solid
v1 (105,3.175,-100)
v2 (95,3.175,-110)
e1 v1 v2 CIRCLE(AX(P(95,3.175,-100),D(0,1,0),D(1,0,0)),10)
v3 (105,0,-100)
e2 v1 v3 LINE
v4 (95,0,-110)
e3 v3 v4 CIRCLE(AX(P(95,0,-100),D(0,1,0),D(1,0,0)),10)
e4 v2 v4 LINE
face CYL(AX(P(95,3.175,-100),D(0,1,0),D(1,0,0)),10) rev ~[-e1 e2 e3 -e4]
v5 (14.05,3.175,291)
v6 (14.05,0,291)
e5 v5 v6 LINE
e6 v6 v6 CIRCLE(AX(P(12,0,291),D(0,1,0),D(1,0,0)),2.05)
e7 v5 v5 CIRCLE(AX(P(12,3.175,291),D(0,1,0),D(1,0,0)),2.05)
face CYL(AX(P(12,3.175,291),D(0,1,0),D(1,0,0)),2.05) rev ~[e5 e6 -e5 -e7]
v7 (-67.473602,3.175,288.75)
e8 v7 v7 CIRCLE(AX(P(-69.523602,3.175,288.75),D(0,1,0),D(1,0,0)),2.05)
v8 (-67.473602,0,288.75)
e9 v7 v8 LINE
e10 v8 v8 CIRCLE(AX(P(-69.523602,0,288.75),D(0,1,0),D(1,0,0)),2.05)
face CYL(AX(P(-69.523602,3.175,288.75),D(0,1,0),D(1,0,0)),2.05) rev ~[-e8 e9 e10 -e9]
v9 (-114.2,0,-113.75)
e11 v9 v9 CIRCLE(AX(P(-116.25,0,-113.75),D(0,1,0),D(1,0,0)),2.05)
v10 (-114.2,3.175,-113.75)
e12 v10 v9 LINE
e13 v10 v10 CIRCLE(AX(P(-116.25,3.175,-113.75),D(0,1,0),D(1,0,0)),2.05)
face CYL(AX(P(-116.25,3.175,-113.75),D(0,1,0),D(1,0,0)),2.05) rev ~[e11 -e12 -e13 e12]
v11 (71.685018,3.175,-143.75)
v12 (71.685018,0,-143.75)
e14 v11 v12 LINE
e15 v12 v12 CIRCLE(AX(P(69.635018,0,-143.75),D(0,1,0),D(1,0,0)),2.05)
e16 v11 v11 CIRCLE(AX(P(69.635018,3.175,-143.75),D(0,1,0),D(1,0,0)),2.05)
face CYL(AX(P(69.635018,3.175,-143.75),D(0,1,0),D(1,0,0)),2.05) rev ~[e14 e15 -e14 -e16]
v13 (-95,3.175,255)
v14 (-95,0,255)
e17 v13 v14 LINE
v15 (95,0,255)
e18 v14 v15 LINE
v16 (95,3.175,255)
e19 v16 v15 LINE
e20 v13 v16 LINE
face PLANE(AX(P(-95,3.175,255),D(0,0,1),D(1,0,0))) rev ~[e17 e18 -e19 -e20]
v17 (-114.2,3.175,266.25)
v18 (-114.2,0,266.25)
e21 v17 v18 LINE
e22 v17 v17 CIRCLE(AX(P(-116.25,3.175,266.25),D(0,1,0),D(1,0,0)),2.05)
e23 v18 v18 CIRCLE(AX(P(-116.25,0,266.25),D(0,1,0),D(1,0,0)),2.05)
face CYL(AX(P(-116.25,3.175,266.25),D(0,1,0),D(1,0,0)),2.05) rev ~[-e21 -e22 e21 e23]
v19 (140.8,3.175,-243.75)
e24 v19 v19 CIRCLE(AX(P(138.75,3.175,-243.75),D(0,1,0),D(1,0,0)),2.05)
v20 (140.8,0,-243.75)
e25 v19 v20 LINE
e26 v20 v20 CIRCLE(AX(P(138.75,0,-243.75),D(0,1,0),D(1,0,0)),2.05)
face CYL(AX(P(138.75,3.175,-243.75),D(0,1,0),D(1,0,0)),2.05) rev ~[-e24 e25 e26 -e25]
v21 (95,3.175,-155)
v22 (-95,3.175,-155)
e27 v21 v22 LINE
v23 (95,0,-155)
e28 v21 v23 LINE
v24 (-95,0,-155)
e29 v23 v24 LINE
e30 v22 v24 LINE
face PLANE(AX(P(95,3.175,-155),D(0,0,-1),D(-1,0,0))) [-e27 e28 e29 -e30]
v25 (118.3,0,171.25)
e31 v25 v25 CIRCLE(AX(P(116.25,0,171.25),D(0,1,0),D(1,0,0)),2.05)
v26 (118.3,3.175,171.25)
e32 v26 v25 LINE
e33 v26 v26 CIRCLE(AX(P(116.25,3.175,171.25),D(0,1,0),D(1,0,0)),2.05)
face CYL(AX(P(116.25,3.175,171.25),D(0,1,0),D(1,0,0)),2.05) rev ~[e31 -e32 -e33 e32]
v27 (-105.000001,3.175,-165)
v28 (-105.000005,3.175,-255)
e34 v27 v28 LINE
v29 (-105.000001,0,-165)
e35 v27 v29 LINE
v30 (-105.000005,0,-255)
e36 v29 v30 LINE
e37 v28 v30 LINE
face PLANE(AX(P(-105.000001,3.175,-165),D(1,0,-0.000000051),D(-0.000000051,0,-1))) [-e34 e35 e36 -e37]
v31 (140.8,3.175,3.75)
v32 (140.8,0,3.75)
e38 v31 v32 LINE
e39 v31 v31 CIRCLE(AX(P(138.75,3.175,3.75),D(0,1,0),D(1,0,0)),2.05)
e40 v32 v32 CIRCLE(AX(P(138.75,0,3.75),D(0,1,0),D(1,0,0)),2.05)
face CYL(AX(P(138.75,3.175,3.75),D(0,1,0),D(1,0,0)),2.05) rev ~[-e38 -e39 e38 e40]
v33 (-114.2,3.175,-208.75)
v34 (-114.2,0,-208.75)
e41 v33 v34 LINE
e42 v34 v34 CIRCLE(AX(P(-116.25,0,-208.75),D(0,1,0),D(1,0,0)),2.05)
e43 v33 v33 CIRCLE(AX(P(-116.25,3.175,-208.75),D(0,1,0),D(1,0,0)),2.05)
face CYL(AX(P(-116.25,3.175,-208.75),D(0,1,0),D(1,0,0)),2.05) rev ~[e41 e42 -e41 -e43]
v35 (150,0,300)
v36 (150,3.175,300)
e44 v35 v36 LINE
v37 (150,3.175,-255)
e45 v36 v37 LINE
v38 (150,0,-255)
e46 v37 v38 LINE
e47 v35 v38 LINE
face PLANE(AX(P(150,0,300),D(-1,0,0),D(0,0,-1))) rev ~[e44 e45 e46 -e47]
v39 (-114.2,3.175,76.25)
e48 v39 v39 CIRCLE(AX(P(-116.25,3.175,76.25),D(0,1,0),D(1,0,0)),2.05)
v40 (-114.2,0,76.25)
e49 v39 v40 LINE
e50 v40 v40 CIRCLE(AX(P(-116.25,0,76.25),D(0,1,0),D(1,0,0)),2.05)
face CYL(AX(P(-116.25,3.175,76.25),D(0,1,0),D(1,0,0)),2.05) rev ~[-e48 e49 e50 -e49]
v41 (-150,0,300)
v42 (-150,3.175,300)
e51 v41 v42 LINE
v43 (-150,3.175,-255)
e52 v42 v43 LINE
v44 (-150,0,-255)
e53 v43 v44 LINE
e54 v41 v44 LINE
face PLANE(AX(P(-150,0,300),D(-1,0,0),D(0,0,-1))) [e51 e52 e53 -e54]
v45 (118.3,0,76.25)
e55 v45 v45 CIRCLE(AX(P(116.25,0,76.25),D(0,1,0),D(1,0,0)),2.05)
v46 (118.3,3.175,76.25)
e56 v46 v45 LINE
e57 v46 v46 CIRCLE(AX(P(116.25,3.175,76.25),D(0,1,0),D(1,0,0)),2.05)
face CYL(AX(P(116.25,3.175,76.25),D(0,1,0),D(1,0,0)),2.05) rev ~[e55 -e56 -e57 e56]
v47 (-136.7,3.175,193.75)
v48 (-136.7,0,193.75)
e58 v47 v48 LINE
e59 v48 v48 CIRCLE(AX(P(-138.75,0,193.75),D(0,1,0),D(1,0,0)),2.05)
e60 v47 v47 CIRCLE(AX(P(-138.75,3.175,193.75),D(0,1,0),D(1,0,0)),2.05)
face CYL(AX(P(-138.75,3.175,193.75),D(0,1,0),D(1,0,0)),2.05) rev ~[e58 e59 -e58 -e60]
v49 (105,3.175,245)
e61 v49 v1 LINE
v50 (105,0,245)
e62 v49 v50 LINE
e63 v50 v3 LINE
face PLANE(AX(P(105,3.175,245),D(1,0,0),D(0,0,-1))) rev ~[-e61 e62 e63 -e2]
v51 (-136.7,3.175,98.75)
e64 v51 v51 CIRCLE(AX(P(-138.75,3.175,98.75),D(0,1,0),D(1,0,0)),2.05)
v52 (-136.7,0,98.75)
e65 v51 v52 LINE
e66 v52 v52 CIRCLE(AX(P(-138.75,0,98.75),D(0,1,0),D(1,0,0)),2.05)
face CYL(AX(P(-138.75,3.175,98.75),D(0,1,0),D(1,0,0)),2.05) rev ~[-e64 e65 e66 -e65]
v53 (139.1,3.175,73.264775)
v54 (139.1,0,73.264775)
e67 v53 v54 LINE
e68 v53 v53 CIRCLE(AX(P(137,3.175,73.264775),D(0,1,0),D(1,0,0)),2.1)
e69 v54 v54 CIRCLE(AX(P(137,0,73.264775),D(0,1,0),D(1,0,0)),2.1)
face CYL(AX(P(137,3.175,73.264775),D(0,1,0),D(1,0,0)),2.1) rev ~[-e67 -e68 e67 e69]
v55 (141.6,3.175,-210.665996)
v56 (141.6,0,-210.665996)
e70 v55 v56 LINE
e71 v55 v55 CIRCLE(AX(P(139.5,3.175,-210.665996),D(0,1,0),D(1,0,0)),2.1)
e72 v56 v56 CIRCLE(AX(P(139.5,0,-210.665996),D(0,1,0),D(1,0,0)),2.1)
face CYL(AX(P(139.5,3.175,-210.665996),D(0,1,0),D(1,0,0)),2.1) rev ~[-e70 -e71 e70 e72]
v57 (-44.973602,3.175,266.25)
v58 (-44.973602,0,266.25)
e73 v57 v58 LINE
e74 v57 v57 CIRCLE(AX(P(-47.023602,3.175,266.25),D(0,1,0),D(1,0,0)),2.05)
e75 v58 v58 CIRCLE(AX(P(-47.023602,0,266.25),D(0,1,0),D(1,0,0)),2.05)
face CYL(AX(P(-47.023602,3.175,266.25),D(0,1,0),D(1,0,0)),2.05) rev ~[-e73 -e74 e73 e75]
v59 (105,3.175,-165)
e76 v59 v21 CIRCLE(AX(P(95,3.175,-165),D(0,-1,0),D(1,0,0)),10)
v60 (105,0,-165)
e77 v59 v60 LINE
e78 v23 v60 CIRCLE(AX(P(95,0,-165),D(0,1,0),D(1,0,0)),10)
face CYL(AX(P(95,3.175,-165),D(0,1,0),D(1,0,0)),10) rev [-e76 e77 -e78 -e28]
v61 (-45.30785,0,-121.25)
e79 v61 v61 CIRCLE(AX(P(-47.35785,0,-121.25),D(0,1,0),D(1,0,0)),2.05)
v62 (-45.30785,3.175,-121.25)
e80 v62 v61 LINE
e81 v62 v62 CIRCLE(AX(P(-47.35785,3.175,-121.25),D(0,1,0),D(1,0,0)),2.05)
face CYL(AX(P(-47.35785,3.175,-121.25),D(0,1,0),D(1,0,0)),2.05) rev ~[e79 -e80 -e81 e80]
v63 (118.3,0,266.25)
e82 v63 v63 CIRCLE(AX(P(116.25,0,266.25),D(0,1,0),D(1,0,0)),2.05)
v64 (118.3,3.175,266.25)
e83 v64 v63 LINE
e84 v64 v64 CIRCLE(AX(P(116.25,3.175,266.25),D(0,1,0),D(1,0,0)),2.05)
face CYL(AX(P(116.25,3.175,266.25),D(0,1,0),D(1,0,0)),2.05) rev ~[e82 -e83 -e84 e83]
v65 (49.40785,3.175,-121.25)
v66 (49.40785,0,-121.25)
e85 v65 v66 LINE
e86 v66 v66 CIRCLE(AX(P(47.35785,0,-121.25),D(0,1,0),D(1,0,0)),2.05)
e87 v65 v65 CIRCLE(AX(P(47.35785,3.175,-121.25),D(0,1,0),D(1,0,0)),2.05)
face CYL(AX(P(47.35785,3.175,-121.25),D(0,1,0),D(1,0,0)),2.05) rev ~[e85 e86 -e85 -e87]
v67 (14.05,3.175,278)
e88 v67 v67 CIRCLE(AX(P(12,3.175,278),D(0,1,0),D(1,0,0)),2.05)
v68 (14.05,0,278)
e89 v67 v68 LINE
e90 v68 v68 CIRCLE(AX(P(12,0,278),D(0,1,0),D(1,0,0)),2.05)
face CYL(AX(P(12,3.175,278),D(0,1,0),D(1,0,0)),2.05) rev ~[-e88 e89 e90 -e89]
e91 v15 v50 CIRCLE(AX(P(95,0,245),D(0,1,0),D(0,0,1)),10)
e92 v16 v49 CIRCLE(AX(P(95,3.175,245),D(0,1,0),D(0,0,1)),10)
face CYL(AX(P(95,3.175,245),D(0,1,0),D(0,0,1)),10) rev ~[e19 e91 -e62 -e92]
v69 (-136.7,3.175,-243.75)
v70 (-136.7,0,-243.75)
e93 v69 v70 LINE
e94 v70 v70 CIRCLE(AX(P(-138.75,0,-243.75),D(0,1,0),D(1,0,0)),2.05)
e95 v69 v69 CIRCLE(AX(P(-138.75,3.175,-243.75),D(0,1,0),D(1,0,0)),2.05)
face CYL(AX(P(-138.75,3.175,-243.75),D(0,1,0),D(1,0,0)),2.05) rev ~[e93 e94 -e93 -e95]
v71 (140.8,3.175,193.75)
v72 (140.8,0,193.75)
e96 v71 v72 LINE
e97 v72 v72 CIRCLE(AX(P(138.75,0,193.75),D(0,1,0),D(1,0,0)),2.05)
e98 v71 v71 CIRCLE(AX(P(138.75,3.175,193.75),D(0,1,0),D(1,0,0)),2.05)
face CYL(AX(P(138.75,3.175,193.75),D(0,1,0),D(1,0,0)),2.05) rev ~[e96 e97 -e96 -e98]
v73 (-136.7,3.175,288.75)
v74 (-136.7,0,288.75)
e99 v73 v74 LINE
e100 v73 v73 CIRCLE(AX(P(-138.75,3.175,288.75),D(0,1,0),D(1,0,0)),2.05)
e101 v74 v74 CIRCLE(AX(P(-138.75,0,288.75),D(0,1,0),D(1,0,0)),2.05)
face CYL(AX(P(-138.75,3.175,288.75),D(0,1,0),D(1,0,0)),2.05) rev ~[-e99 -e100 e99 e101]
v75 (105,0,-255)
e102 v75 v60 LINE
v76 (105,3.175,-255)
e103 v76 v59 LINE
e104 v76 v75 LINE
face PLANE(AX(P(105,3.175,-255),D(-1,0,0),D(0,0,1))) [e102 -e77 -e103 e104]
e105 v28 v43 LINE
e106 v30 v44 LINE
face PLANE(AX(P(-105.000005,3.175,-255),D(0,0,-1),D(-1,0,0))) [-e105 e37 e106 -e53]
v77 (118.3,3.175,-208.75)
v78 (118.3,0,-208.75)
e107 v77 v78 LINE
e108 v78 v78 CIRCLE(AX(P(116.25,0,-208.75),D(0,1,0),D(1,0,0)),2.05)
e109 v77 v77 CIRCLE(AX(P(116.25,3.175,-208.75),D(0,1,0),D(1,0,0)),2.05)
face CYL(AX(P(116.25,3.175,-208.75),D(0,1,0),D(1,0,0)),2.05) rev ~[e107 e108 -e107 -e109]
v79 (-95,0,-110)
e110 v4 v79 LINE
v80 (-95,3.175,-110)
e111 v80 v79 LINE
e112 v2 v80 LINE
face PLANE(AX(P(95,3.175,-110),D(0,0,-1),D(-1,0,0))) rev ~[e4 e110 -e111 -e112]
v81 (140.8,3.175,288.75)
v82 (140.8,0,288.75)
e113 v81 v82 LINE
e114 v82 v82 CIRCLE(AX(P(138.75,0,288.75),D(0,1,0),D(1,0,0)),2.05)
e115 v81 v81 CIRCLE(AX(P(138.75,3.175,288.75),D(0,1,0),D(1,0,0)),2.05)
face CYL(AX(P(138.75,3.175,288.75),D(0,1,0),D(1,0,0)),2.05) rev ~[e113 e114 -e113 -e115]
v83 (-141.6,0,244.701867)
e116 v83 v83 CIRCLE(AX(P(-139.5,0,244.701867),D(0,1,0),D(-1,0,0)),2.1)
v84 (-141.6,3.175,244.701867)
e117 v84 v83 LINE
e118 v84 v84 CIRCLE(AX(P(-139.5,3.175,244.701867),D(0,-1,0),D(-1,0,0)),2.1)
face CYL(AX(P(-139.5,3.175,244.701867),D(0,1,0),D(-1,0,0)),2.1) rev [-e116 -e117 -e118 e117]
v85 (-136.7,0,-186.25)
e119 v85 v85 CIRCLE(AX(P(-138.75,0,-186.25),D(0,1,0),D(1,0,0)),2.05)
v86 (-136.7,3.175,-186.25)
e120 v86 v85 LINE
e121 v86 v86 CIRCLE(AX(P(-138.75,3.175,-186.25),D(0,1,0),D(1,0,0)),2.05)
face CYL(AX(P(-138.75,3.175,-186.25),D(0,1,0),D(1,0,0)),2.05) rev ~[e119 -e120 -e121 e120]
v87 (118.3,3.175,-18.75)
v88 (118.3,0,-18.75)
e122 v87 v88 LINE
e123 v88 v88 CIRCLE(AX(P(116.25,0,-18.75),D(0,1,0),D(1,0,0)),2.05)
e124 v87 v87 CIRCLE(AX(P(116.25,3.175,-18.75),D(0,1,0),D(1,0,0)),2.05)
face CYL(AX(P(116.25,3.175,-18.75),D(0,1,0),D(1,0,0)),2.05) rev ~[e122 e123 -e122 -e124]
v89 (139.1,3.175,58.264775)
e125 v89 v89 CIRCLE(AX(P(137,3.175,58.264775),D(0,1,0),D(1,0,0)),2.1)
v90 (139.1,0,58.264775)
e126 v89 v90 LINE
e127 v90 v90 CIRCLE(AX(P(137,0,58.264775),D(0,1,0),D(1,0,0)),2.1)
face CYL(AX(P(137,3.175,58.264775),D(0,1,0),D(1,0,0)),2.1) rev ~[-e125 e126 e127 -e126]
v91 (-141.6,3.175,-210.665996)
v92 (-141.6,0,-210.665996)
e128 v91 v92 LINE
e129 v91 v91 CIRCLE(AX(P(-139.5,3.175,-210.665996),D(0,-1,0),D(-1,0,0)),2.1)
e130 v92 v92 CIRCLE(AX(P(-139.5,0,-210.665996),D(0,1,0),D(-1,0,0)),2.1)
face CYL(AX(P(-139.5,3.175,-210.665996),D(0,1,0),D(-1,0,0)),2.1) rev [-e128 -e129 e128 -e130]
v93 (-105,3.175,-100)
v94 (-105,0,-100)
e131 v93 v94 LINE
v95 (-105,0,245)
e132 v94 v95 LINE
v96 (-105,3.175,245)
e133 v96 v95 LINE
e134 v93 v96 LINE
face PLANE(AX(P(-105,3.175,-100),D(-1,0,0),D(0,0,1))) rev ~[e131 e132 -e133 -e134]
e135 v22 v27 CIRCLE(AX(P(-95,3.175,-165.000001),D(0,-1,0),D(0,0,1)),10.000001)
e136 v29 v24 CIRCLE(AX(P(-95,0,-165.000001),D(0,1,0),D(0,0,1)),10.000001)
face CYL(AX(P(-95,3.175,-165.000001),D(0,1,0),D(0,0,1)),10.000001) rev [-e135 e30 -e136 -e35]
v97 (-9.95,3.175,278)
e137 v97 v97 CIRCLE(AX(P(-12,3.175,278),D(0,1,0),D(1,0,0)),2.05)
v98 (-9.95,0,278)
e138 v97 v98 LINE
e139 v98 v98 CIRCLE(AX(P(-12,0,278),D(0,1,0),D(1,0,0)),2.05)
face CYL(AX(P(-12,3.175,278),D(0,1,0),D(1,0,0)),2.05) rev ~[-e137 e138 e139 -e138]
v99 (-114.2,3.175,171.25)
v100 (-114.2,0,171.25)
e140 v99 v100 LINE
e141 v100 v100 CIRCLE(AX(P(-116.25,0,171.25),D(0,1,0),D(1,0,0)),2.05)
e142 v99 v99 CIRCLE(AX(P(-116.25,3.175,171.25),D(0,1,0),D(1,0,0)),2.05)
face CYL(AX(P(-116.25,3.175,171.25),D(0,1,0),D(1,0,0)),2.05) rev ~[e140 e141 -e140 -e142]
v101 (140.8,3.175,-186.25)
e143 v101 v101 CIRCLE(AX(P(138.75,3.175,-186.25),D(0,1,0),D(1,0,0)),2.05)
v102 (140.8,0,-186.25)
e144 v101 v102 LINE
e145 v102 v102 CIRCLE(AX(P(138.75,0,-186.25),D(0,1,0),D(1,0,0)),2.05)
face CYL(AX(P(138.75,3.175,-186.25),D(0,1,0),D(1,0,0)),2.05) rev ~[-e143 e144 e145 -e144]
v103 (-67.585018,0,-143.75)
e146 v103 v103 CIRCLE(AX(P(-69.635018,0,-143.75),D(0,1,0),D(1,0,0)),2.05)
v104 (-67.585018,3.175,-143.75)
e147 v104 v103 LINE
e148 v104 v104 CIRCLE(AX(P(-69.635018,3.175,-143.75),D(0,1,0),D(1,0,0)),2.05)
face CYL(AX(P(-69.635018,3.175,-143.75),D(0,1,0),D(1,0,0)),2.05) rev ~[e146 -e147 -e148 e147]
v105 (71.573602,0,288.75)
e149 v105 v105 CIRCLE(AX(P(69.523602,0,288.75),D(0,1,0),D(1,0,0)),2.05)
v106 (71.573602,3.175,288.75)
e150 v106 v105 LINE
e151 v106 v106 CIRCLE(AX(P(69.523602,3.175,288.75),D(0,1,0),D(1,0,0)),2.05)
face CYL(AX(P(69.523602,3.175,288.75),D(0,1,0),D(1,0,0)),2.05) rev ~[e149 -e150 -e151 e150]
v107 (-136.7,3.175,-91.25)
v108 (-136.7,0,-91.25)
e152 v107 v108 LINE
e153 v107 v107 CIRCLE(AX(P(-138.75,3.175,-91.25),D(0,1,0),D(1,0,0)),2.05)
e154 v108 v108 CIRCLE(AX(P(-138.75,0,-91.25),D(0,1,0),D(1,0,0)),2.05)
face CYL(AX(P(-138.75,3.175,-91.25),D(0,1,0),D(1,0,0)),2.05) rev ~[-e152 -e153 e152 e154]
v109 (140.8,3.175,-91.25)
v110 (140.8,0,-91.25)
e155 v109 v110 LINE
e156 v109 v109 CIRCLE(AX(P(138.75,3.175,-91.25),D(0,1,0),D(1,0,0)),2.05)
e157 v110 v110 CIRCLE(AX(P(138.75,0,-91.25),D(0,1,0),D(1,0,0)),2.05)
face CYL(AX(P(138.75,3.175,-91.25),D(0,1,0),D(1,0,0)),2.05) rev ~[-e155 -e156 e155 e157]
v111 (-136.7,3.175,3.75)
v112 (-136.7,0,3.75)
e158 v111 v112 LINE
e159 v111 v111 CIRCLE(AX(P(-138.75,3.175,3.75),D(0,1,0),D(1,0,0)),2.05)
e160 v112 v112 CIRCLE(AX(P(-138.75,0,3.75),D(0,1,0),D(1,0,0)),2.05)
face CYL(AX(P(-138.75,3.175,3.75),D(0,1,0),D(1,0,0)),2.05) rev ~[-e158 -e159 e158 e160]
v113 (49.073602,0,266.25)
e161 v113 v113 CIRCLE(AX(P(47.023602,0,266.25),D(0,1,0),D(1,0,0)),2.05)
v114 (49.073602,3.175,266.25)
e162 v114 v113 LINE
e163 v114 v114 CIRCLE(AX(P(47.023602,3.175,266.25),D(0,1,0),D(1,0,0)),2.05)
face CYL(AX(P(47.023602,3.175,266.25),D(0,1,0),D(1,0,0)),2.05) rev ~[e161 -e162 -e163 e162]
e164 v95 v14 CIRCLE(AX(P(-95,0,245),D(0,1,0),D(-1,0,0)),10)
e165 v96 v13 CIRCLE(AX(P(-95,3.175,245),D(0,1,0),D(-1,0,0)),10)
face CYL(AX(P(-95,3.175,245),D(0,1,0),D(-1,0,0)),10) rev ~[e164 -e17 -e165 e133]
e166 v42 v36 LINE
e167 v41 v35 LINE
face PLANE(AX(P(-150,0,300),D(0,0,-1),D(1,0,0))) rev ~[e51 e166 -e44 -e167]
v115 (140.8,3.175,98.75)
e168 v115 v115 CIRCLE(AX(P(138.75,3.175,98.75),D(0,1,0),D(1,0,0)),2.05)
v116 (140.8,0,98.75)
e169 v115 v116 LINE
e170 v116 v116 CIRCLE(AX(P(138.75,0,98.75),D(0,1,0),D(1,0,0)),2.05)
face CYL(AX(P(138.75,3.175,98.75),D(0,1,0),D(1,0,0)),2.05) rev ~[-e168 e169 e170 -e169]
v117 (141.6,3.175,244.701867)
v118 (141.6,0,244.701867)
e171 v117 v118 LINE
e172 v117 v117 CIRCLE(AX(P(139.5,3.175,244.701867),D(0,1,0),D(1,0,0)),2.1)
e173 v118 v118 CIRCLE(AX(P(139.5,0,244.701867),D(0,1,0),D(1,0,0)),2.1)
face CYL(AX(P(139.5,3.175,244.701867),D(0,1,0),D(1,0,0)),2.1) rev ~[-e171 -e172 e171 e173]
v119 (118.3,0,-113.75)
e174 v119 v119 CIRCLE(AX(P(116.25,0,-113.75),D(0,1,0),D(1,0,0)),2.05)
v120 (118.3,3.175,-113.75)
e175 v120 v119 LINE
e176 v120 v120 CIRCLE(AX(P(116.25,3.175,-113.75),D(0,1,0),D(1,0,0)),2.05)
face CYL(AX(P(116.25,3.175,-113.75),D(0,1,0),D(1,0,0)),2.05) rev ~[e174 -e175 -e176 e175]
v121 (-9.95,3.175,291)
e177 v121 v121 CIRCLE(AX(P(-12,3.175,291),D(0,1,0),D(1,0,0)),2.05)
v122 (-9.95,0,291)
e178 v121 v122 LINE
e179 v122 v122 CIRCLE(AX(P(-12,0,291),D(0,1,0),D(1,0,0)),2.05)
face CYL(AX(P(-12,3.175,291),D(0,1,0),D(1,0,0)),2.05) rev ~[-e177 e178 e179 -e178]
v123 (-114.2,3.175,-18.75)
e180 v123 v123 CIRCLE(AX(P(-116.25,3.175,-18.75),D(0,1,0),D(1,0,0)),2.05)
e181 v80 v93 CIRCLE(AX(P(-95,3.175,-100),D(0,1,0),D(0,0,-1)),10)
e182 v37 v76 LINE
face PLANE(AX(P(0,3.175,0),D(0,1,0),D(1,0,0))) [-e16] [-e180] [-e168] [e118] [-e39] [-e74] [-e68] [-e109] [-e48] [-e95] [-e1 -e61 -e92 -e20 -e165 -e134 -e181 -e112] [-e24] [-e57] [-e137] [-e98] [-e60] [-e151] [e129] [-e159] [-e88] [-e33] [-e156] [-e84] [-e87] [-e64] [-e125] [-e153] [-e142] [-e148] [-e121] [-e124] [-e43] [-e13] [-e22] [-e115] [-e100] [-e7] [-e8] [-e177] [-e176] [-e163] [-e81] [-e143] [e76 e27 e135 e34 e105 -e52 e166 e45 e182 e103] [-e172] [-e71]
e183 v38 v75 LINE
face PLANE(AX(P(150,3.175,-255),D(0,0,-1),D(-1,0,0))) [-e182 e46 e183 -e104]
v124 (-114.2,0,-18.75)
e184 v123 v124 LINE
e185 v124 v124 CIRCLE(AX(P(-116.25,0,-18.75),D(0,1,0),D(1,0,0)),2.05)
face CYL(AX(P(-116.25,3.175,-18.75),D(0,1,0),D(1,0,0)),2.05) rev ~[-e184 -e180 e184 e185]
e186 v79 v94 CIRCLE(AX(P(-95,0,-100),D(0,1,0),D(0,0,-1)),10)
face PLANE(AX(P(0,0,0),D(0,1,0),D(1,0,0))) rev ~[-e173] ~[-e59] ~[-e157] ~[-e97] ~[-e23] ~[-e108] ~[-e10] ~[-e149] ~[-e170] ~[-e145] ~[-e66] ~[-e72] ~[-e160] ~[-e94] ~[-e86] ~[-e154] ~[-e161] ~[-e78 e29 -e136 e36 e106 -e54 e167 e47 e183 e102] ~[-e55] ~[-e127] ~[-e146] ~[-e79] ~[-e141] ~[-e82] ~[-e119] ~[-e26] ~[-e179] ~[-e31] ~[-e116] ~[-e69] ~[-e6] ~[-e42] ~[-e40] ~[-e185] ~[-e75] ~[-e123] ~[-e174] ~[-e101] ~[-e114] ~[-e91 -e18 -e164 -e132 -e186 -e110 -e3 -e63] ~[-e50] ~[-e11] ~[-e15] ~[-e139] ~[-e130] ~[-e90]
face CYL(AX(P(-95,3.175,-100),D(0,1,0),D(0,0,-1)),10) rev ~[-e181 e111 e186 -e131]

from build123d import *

# Parameters (mm, degrees)
SKETCH1_W           = 300
SKETCH1_H           = 600
BOSS_EXTRUDE1_DEPTH = 3.175
CUT_EXTRUDE1_DEPTH  = 10
SKETCH4_R           = 2.05
CUT_EXTRUDE2_DEPTH  = 51
SKETCH5_R           = 2.1
CUT_EXTRUDE3_DEPTH  = 67
SKETCH7_R           = 2.05
CUT_EXTRUDE4_DEPTH  = 10
SKETCH8_R           = 2.1
CUT_EXTRUDE5_DEPTH  = 10


with BuildPart() as part:
    # Sketch1 → Boss-Extrude1 (new body)
    with BuildSketch(Plane(origin=(0, 0, 0), x_dir=(1, 0, 0), z_dir=(0, 1, 0))):
        Rectangle(SKETCH1_W, SKETCH1_H)
    extrude(amount=BOSS_EXTRUDE1_DEPTH)

    # Sketch3 → Cut-Extrude1 (cut)
    with BuildSketch(Plane(origin=(0, 3.175, 0), x_dir=(1, 0, 0), z_dir=(0, 1, 0))):
        with BuildLine():
            Line((-95, -255), (95, -255))
            ThreePointArc((95, -255), (102.071067812, -252.071067812), (105, -245))
            Line((105, -245), (105, 100))
            ThreePointArc((105, 100), (102.071067812, 107.071067812), (95, 110))
            Line((95, 110), (-95, 110))
            ThreePointArc((-95, 110), (-102.071067812, 107.071067812), (-105, 100))
            Line((-105, 100), (-105, -245))
            ThreePointArc((-105, -245), (-102.071067812, -252.071067812), (-95, -255))
        make_face()
        with BuildLine():
            Line((105, 255), (105, 165))
            ThreePointArc((105, 165), (102.071067812, 157.928932188), (95, 155))
            Line((95, 155), (-95, 155))
            ThreePointArc((-95, 155), (-102.071067992, 157.928932157), (-105.000000511, 165))
            Line((-105.000000511, 165), (-105.000005107, 255))
            Line((-105.000005107, 255), (-150, 255))
            Line((-150, 255), (-150, 300))
            Line((-150, 300), (150, 300))
            Line((150, 300), (150, 255))
            Line((150, 255), (105, 255))
        make_face()
    extrude(amount=-CUT_EXTRUDE1_DEPTH, mode=Mode.SUBTRACT)

    # Sketch4 → Cut-Extrude2 (cut)
    with BuildSketch(Plane(origin=(0, 3.175, 0), x_dir=(1, 0, 0), z_dir=(0, 1, 0))):
        with Locations((12, -291)):
            Circle(SKETCH4_R)
        with Locations((-12, -291)):
            Circle(SKETCH4_R)
        with Locations((-12, -278)):
            Circle(SKETCH4_R)
        with Locations((12, -278)):
            Circle(SKETCH4_R)
    extrude(amount=-CUT_EXTRUDE2_DEPTH, mode=Mode.SUBTRACT)

    # Sketch5 → Cut-Extrude3 (cut)
    with BuildSketch(Plane(origin=(0, 3.175, 0), x_dir=(1, 0, 0), z_dir=(0, 1, 0))):
        with Locations((137, -73.264775169)):
            Circle(SKETCH5_R)
        with Locations((137, -58.264775169)):
            Circle(SKETCH5_R)
    extrude(amount=-CUT_EXTRUDE3_DEPTH, mode=Mode.SUBTRACT)

    # Sketch7 → Cut-Extrude4 (cut)
    with BuildSketch(Plane(origin=(0, 3.175, 0), x_dir=(1, 0, 0), z_dir=(0, 1, 0))):
        with Locations((138.75, -288.75)):
            Circle(SKETCH7_R)
        with Locations((116.25, -266.25)):
            Circle(SKETCH7_R)
        with Locations((47.023601507, -266.25)):
            Circle(SKETCH7_R)
        with Locations((69.523601507, -288.75)):
            Circle(SKETCH7_R)
        with Locations((116.25, -171.25)):
            Circle(SKETCH7_R)
        with Locations((138.75, -193.75)):
            Circle(SKETCH7_R)
        with Locations((116.25, -76.25)):
            Circle(SKETCH7_R)
        with Locations((138.75, -98.75)):
            Circle(SKETCH7_R)
        with Locations((116.25, 18.75)):
            Circle(SKETCH7_R)
        with Locations((138.75, -3.75)):
            Circle(SKETCH7_R)
        with Locations((116.25, 113.75)):
            Circle(SKETCH7_R)
        with Locations((138.75, 91.25)):
            Circle(SKETCH7_R)
        with Locations((116.25, 208.75)):
            Circle(SKETCH7_R)
        with Locations((138.75, 186.25)):
            Circle(SKETCH7_R)
        with Locations((47.357849803, 121.25)):
            Circle(SKETCH7_R)
        with Locations((69.635017605, 143.75)):
            Circle(SKETCH7_R)
        with Locations((-47.357849803, 121.25)):
            Circle(SKETCH7_R)
        with Locations((-69.635017605, 143.75)):
            Circle(SKETCH7_R)
        with Locations((-116.25, 208.75)):
            Circle(SKETCH7_R)
        with Locations((-138.75, 186.25)):
            Circle(SKETCH7_R)
        with Locations((-138.75, 91.25)):
            Circle(SKETCH7_R)
        with Locations((-116.25, 18.75)):
            Circle(SKETCH7_R)
        with Locations((-116.25, 113.75)):
            Circle(SKETCH7_R)
        with Locations((-116.25, -76.25)):
            Circle(SKETCH7_R)
        with Locations((-138.75, -3.75)):
            Circle(SKETCH7_R)
        with Locations((-138.75, -98.75)):
            Circle(SKETCH7_R)
        with Locations((-116.25, -171.25)):
            Circle(SKETCH7_R)
        with Locations((-138.75, -193.75)):
            Circle(SKETCH7_R)
        with Locations((-116.25, -266.25)):
            Circle(SKETCH7_R)
        with Locations((-138.75, -288.75)):
            Circle(SKETCH7_R)
        with Locations((-47.023601507, -266.25)):
            Circle(SKETCH7_R)
        with Locations((-69.523601507, -288.75)):
            Circle(SKETCH7_R)
        with Locations((-138.75, 243.75)):
            Circle(SKETCH7_R)
        with Locations((138.75, 243.75)):
            Circle(SKETCH7_R)
    extrude(amount=-CUT_EXTRUDE4_DEPTH, mode=Mode.SUBTRACT)

    # Sketch8 → Cut-Extrude5 (cut)
    with BuildSketch(Plane(origin=(0, 3.175, 0), x_dir=(1, 0, 0), z_dir=(0, 1, 0))):
        with Locations((139.5, 210.665995932)):
            Circle(SKETCH8_R)
        with Locations((139.5, -244.701867271)):
            Circle(SKETCH8_R)
    cut_extrude5 = extrude(amount=-CUT_EXTRUDE5_DEPTH, mode=Mode.SUBTRACT)

    # Mirror1: Cut-Extrude5 across plane
    add(cut_extrude5.mirror(Plane(origin=(0, 0, 0), x_dir=(0, 0, 1), z_dir=(1, 0, 0))), mode=Mode.SUBTRACT)


solid = part.part
